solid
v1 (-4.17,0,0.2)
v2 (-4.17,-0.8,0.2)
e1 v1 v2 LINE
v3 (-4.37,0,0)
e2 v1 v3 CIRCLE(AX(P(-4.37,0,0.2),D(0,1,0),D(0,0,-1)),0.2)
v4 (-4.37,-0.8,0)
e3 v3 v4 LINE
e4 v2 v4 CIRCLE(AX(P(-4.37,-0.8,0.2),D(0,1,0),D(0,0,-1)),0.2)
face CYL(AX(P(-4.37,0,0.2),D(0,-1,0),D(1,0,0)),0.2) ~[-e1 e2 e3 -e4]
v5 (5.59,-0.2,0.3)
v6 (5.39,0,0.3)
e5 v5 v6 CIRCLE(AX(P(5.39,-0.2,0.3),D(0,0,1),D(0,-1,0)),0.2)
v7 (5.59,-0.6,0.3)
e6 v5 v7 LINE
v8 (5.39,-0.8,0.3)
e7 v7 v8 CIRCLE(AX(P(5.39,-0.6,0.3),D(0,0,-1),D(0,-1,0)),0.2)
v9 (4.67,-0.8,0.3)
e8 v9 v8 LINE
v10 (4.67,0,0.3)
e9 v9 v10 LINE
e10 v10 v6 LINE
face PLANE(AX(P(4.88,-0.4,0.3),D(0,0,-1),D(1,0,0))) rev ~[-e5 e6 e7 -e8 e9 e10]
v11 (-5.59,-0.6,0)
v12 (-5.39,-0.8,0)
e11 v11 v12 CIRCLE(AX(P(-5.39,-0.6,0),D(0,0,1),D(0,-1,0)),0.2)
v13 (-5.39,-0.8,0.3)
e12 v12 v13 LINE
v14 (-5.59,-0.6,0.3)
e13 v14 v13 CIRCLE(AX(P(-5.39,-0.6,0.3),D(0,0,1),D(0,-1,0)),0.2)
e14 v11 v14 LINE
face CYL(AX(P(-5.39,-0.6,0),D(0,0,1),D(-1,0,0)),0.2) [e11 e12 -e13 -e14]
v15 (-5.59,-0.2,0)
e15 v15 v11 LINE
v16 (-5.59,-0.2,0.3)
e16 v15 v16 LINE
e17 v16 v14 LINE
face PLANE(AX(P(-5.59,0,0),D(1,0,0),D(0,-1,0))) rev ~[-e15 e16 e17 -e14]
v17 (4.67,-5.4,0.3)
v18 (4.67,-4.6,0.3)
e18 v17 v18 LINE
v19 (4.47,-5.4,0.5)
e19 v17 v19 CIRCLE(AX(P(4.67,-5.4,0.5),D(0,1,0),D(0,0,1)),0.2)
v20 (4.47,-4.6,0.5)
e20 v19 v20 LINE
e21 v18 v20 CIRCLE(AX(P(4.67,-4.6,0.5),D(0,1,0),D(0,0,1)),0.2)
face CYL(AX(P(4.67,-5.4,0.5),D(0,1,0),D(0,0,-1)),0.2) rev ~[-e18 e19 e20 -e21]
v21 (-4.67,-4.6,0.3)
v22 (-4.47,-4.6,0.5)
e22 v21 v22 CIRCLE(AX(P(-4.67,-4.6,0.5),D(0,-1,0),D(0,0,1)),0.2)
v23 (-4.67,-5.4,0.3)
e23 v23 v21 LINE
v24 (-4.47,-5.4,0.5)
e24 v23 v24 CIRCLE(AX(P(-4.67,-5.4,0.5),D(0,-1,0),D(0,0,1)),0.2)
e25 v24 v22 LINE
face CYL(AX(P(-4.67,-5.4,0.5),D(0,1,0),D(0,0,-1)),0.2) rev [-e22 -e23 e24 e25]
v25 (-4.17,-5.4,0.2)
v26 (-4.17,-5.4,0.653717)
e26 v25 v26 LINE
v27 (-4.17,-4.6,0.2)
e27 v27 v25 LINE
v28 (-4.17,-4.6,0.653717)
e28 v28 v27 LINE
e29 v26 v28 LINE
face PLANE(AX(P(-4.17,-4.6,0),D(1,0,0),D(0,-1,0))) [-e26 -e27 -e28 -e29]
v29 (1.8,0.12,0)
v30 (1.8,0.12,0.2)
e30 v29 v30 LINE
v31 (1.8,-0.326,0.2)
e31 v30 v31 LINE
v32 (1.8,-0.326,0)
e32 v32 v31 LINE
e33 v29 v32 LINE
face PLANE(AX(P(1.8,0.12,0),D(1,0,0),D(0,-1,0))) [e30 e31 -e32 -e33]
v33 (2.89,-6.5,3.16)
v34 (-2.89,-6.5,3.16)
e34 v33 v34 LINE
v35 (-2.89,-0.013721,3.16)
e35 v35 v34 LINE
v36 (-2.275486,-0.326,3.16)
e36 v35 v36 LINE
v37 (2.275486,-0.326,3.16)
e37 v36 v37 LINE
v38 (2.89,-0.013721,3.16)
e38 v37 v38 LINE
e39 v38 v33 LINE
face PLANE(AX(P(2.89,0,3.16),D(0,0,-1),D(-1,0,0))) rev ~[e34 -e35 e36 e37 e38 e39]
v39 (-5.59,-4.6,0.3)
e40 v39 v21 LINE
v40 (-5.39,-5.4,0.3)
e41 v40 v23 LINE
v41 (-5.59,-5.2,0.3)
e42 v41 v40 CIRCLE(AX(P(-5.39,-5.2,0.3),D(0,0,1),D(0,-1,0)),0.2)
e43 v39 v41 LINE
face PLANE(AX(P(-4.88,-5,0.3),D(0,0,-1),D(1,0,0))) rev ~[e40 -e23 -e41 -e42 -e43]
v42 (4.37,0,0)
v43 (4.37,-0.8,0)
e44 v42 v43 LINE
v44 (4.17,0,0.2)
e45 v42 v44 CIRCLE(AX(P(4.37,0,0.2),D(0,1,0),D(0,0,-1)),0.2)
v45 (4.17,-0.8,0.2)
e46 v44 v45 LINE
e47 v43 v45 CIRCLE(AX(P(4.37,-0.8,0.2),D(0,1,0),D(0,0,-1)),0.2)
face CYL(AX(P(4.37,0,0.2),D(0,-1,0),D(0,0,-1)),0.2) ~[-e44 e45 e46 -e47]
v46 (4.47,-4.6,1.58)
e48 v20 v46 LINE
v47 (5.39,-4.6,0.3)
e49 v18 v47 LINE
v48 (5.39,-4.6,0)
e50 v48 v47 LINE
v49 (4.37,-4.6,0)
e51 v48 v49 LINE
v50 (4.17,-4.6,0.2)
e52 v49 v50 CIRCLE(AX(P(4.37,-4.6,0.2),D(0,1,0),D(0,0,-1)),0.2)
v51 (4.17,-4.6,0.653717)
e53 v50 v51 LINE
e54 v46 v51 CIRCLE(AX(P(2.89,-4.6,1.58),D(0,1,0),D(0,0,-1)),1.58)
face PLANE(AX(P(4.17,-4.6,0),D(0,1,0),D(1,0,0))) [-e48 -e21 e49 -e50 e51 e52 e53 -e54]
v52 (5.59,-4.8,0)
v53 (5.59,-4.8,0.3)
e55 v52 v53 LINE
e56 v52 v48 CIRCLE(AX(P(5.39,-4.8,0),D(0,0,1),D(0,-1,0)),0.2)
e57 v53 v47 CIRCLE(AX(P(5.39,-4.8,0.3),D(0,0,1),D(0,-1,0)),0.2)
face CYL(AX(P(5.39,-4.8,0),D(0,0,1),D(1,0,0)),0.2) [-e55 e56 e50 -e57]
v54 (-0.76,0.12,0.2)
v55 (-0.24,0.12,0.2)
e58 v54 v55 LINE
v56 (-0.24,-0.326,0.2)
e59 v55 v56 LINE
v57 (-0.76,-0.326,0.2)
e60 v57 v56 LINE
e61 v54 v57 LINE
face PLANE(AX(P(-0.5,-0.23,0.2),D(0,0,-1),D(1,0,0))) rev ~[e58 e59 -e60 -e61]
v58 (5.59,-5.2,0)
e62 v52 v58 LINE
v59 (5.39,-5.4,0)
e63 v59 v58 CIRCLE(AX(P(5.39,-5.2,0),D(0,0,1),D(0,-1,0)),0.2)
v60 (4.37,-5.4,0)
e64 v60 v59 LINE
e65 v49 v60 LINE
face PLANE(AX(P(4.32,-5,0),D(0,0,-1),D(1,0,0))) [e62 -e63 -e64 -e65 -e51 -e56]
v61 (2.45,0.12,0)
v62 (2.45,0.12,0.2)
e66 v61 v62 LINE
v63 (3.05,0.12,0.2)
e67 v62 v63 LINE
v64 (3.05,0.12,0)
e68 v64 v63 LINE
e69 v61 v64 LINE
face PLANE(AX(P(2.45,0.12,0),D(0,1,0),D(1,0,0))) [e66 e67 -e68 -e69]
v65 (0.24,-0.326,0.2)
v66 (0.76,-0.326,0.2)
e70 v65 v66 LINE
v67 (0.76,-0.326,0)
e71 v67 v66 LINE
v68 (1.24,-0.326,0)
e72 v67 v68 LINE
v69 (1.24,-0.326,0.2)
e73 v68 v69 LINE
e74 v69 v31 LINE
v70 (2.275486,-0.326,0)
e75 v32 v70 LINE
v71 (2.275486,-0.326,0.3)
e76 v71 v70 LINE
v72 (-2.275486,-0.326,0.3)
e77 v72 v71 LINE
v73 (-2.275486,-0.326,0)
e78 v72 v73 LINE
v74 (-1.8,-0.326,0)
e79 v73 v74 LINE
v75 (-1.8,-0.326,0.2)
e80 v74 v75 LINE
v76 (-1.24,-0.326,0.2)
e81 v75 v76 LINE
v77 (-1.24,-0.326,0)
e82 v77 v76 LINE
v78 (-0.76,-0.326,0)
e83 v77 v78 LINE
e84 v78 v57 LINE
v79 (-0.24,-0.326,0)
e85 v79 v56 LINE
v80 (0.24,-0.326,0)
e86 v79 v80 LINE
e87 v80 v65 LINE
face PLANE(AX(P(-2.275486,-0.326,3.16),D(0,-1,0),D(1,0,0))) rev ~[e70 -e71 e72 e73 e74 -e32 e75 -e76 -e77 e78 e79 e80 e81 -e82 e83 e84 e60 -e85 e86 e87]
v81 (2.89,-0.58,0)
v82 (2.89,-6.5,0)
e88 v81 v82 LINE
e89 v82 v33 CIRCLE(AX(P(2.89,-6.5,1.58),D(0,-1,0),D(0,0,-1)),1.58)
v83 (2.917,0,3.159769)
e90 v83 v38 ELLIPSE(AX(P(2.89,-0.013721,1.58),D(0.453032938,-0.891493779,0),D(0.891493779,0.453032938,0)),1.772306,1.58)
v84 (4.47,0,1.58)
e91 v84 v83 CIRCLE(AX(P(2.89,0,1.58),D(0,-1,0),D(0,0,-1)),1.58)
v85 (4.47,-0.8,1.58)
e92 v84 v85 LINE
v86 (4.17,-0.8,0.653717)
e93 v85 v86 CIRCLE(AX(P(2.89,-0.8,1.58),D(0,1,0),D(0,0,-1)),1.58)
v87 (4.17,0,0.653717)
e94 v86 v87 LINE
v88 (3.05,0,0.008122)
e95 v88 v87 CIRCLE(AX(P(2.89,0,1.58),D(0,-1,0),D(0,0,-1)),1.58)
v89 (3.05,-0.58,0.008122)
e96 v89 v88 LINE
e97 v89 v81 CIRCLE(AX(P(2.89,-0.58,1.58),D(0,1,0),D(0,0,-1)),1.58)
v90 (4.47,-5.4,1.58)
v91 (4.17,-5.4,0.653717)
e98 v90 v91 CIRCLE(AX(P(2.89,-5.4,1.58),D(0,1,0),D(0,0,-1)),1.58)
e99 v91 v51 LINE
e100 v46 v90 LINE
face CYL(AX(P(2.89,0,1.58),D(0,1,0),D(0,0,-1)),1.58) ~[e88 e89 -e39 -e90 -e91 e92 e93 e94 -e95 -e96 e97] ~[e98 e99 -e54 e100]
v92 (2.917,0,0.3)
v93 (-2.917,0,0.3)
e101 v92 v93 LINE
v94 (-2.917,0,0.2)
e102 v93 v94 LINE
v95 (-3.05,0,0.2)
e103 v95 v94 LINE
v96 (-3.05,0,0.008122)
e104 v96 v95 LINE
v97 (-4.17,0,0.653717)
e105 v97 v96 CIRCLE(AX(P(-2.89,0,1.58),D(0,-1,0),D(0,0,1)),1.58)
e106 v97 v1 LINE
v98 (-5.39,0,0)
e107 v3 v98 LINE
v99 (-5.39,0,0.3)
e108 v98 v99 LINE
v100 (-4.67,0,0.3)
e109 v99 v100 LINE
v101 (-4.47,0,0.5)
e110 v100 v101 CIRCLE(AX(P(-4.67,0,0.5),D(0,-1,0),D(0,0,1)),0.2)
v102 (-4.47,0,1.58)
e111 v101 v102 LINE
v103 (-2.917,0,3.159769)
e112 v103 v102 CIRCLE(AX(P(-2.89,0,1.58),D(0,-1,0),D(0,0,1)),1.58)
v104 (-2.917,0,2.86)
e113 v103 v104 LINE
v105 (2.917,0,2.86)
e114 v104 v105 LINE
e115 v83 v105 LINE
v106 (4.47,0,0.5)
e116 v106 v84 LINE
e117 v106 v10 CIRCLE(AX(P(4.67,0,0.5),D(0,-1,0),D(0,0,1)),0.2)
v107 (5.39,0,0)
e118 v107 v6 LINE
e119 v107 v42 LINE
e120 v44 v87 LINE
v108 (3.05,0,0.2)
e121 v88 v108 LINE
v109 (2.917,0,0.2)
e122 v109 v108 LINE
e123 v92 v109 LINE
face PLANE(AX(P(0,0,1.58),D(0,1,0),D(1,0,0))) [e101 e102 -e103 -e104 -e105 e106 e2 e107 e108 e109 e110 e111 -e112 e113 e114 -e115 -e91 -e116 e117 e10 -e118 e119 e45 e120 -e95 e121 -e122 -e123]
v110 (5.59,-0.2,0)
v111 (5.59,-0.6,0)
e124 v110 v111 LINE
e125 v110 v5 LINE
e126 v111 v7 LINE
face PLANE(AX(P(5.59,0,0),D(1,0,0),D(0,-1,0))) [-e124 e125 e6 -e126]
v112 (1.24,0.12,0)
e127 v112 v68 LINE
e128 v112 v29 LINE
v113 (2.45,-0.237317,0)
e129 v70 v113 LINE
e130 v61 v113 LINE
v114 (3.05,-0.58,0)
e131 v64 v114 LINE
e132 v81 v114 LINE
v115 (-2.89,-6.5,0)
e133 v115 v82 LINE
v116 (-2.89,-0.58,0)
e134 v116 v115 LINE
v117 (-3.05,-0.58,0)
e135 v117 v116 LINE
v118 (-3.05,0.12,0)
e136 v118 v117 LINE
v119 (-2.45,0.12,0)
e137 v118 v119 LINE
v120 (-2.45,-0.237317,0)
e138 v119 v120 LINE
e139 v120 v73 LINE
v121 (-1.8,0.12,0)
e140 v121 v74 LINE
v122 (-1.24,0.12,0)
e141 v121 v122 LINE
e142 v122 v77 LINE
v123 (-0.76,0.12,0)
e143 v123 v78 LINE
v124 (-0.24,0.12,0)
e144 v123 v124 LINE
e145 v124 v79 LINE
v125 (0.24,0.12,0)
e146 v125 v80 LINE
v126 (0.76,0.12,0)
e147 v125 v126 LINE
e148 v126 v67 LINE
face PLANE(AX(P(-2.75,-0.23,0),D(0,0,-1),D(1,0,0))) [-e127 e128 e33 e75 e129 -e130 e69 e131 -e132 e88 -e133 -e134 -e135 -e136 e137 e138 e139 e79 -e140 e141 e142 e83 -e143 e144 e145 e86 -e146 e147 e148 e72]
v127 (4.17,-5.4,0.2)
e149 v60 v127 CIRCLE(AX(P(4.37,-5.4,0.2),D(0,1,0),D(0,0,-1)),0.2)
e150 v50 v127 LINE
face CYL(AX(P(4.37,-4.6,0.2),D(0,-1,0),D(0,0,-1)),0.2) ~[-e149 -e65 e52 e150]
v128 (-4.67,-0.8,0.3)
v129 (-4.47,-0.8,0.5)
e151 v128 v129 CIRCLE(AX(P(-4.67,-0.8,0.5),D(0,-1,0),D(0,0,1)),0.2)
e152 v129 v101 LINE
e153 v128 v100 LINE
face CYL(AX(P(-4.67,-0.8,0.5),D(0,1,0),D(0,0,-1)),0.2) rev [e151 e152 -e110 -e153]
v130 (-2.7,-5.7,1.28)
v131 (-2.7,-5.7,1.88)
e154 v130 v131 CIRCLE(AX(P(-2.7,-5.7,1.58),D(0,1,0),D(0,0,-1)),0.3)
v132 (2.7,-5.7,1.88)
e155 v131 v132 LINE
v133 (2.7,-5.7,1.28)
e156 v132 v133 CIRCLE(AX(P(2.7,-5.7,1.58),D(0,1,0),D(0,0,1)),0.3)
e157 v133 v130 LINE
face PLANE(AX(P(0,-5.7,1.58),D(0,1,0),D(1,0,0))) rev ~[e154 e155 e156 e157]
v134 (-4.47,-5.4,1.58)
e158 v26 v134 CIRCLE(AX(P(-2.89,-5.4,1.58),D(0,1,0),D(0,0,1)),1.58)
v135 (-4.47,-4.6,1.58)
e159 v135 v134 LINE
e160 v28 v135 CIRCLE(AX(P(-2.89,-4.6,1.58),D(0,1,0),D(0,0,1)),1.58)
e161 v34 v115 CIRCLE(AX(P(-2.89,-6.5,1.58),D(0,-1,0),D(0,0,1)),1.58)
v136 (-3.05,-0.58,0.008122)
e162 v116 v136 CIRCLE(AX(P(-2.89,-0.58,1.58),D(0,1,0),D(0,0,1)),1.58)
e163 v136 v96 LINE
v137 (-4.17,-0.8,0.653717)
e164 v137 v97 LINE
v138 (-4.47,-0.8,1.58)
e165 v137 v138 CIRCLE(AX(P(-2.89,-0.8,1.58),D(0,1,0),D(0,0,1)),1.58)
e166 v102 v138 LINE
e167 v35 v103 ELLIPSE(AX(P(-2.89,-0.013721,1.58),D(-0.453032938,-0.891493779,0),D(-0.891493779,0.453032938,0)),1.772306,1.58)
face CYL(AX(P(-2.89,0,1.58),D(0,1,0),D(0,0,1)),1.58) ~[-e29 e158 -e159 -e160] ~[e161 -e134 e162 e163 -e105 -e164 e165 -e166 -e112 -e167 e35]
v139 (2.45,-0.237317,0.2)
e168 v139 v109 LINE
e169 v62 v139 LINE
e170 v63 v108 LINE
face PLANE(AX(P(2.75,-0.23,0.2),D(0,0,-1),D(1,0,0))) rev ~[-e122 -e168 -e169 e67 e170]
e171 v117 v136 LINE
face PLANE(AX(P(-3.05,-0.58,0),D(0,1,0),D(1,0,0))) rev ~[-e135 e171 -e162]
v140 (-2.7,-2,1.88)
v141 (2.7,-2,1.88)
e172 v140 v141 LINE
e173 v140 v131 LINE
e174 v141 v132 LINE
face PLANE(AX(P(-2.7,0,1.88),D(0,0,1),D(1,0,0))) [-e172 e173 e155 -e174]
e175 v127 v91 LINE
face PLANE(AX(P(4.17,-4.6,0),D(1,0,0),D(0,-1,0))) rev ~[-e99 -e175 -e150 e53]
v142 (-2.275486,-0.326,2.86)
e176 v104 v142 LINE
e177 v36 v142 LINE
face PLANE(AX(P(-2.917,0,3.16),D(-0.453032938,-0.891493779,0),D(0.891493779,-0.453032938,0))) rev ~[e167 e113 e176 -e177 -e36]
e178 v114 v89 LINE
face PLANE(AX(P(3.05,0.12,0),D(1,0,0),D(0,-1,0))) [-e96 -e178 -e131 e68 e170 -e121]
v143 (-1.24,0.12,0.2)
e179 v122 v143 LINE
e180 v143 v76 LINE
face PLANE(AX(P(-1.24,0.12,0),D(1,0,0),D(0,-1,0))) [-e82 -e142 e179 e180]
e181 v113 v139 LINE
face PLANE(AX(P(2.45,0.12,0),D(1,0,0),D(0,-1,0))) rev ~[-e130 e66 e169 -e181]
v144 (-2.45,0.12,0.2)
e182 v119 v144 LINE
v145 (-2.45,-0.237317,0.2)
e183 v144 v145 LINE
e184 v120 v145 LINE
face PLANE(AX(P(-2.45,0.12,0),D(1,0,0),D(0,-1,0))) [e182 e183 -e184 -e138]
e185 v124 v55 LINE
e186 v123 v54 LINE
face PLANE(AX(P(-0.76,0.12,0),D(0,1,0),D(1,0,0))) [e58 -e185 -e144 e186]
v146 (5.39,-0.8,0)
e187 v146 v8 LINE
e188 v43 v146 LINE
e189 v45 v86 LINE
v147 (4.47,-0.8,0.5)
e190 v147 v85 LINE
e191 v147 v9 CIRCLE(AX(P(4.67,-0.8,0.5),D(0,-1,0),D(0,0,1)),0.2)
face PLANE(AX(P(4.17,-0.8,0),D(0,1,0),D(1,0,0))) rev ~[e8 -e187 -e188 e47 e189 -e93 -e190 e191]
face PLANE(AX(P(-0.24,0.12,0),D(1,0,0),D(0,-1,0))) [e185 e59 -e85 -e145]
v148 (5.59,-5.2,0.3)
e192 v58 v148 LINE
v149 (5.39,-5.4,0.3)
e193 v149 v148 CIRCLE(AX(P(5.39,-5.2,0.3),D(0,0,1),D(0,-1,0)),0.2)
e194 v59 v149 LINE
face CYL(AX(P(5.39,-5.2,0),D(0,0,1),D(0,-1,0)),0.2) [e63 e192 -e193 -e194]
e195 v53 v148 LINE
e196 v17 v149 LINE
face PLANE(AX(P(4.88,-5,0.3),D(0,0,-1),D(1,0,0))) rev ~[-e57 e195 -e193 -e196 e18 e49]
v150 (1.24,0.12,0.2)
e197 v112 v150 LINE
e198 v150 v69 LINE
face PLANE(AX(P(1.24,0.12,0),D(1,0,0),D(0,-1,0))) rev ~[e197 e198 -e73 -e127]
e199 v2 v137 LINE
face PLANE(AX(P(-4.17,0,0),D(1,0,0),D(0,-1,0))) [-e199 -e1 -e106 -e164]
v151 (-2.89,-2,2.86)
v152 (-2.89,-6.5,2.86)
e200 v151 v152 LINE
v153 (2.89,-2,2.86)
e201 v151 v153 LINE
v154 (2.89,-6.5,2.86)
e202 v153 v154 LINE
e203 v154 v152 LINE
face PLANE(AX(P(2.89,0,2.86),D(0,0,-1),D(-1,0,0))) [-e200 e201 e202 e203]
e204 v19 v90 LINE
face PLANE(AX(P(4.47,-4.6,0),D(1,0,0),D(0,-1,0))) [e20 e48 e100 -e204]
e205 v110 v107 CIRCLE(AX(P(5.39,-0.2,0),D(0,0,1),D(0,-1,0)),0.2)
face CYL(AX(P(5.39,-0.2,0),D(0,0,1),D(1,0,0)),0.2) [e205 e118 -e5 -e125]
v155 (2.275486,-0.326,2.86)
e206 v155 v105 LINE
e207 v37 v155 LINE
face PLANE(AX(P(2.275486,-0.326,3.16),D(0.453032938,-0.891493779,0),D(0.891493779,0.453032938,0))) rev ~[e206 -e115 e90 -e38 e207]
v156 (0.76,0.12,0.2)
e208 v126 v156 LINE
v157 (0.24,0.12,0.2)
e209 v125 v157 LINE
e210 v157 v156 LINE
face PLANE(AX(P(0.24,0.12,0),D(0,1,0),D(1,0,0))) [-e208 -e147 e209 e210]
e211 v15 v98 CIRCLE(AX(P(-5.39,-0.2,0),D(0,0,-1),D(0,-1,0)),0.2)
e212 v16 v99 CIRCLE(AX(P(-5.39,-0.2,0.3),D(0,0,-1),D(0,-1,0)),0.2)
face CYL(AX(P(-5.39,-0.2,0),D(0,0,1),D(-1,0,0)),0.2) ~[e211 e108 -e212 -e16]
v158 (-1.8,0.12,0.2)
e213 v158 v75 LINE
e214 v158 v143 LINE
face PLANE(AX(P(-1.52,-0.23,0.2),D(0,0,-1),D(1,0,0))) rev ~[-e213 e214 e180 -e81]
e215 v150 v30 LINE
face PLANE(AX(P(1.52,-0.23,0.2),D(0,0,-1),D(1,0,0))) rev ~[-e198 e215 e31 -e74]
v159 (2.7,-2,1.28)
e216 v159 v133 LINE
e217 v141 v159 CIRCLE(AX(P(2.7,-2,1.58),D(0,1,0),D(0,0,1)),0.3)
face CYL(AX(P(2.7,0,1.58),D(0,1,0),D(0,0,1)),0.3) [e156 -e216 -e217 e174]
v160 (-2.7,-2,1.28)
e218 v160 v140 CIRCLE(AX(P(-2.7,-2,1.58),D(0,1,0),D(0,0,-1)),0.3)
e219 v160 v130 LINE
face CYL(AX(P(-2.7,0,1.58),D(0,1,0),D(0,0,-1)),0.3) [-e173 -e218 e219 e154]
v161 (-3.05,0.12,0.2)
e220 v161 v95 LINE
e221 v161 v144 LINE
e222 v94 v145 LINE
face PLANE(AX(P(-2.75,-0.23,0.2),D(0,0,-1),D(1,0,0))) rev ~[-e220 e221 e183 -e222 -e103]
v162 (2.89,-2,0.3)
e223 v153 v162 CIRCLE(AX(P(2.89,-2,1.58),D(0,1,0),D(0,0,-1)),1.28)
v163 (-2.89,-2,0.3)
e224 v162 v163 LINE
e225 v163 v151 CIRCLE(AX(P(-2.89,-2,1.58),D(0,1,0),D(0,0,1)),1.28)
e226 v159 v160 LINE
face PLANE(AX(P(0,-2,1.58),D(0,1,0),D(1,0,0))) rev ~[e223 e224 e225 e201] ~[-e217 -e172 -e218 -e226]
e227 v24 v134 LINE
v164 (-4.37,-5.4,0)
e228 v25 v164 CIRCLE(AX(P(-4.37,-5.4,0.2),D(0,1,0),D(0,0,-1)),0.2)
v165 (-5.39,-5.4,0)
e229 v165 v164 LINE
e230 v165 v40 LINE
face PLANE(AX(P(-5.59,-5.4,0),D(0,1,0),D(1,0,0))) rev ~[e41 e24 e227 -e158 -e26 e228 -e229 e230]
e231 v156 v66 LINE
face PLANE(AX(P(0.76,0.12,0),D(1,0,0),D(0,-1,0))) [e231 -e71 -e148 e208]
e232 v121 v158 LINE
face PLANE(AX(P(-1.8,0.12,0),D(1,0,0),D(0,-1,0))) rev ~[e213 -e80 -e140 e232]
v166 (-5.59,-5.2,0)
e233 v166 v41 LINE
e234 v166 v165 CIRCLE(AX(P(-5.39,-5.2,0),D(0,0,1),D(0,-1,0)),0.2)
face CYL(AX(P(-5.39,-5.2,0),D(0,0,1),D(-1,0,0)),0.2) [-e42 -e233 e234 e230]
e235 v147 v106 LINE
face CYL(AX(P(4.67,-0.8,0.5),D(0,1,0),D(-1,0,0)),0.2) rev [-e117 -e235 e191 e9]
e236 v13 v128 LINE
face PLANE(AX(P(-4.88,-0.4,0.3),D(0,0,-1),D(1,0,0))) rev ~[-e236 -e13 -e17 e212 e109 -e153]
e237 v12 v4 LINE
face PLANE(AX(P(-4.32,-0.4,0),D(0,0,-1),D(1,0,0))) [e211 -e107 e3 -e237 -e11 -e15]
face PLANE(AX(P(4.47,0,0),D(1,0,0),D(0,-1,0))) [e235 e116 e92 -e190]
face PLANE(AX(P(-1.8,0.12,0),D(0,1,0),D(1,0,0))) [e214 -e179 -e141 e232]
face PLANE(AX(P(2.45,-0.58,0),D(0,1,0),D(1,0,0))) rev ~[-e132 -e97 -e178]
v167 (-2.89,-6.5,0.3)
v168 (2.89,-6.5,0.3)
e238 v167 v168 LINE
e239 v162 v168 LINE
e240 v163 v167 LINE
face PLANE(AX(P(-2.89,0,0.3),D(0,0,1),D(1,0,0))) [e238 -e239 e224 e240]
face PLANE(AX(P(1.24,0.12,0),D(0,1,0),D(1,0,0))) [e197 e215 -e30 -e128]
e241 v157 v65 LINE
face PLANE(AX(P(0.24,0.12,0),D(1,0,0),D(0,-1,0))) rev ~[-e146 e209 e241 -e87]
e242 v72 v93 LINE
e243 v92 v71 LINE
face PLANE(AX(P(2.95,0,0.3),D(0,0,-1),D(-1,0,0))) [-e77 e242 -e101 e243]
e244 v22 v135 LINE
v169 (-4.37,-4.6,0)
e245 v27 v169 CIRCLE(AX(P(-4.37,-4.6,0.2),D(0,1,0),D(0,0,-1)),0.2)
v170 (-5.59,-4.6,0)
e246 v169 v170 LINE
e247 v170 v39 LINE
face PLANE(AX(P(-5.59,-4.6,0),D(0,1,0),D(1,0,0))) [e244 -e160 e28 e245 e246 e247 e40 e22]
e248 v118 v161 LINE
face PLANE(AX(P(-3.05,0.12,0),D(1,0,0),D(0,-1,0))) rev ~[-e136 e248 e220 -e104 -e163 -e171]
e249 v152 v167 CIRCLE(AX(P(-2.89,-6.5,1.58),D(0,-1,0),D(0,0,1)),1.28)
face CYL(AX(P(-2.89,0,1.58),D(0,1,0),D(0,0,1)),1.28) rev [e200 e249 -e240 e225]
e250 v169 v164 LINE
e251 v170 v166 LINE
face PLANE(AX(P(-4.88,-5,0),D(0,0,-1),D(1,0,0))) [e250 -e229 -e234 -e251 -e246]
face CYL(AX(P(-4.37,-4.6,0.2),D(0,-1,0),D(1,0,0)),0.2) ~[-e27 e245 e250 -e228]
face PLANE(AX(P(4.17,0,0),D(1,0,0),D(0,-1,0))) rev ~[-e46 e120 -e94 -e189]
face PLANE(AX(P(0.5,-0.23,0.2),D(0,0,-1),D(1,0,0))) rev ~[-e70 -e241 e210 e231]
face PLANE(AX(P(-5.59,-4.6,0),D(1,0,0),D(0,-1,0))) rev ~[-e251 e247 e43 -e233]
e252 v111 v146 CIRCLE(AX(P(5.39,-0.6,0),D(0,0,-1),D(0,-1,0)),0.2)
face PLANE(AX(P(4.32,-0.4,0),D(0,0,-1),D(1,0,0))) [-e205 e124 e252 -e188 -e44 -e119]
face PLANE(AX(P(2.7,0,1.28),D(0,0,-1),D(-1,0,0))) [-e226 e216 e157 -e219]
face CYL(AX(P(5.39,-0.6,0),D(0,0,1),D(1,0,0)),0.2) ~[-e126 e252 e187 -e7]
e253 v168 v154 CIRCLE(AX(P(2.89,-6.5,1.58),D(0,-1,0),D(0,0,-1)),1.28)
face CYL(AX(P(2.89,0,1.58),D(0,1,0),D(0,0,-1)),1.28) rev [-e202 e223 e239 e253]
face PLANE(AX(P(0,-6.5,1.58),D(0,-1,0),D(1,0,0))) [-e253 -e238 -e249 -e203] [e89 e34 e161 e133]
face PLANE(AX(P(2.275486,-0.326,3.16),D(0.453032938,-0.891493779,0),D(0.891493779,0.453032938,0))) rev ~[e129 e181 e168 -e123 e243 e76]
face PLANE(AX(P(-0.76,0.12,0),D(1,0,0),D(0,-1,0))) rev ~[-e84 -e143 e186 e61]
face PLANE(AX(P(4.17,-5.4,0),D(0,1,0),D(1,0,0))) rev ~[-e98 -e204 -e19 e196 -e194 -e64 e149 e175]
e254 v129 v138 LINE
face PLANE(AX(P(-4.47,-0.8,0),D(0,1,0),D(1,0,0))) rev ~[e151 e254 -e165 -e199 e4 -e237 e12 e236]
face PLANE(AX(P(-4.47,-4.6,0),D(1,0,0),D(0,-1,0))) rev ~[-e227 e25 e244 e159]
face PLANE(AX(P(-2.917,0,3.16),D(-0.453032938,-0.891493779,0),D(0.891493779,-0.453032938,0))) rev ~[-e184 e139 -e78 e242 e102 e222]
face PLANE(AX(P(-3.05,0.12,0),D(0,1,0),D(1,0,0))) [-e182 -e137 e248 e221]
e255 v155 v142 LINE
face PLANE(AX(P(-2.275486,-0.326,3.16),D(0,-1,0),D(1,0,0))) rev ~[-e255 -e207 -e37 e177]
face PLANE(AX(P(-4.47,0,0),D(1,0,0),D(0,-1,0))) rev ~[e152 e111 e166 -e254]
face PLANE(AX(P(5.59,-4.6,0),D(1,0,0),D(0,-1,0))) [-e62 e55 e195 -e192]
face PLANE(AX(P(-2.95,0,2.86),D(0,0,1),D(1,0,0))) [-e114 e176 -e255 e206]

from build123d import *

# Parameters (mm, degrees)
PAD_DEPTH     = 6.5
POCKET_DEPTH  = 3.161
SKETCH002_W   = 0.3
SKETCH002_H   = 0.8
PAD001_DEPTH  = 1.58
SKETCH007_W   = 0.6
SKETCH007_H   = 0.7
SKETCH007_W_2 = 0.56
SKETCH007_W_3 = 0.52
PAD002_DEPTH  = 0.2
PAD003_DEPTH  = 2
PAD004_DEPTH  = 5.7
SKETCH008_W   = 1.42
SKETCH008_H   = 0.8
PAD005_DEPTH  = 0.3
FILLET_R      = 0.2


with BuildPart() as part:
    # Sketch → Pad (new body)
    with BuildSketch(Plane.XZ):
        with BuildLine():
            ThreePointArc((-2.89, 3.16), (-4.47, 1.58), (-2.89, 0))
            Line((-2.89, 0), (2.89, 0))
            ThreePointArc((2.89, 0), (4.47, 1.58), (2.89, 3.16))
            Line((2.89, 3.16), (-2.89, 3.16))
        make_face()
        with BuildLine():
            ThreePointArc((-2.89, 2.86), (-4.17, 1.58), (-2.89, 0.3))
            Line((-2.89, 0.3), (2.89, 0.3))
            ThreePointArc((2.89, 0.3), (4.17, 1.58), (2.89, 2.86))
            Line((2.89, 2.86), (-2.89, 2.86))
        make_face(mode=Mode.SUBTRACT)
    extrude(amount=PAD_DEPTH)

    # Sketch001 (on DatumPlane) → Pocket (cut, through all)
    with BuildSketch(Plane(origin=(0, 0, 3.16), x_dir=(-1, 0, 0), z_dir=(0, 0, 1))):
        Polygon((-2.917, 0), (2.917, 0), (2.275486, 0.326), (-2.275486, 0.326), align=None)
    extrude(amount=-POCKET_DEPTH, mode=Mode.SUBTRACT)

    # Sketch002 (on DatumPlane) → Pad001 (join)
    with BuildSketch(Plane(origin=(0, 0, 0), x_dir=(1, 0, 0), z_dir=(0, 0, -1))):
        with Locations((-4.32, 5)):
            Rectangle(SKETCH002_W, SKETCH002_H)
        with Locations((4.32, 5)):
            Rectangle(SKETCH002_W, SKETCH002_H)
        with Locations((-4.32, 0.4)):
            Rectangle(SKETCH002_W, SKETCH002_H)
        with Locations((4.32, 0.4)):
            Rectangle(SKETCH002_W, SKETCH002_H)
    extrude(amount=-PAD001_DEPTH)

    # Sketch007 → Pad002 (join)
    with BuildSketch(Plane(origin=(0, 0, 0), x_dir=(1, 0, 0), z_dir=(0, 0, -1))):
        with Locations((-2.75, 0.23)):
            Rectangle(SKETCH007_W, SKETCH007_H)
        with Locations((-1.52, 0.23)):
            Rectangle(SKETCH007_W_2, SKETCH007_H)
        with Locations((-0.5, 0.23)):
            Rectangle(SKETCH007_W_3, SKETCH007_H)
        with Locations((2.75, 0.23)):
            Rectangle(SKETCH007_W, SKETCH007_H)
        with Locations((1.52, 0.23)):
            Rectangle(SKETCH007_W_2, SKETCH007_H)
        with Locations((0.5, 0.23)):
            Rectangle(SKETCH007_W_3, SKETCH007_H)
    extrude(amount=-PAD002_DEPTH)

    # Sketch005 (on DatumPlane) → Pad003 (join)
    with BuildSketch(Plane(origin=(0, 0, 0), x_dir=(1, 0, 0), z_dir=(0, 1, 0))):
        with BuildLine():
            ThreePointArc((-2.95, -0.3), (-4.23, -1.58), (-2.95, -2.86))
            Line((-2.95, -2.86), (2.95, -2.86))
            ThreePointArc((2.95, -2.86), (4.23, -1.58), (2.95, -0.3))
            Line((2.95, -0.3), (-2.95, -0.3))
        make_face()
    extrude(amount=-PAD003_DEPTH)

    # Sketch006 (on DatumPlane) → Pad004 (join)
    with BuildSketch(Plane(origin=(0, 0, 0), x_dir=(1, 0, 0), z_dir=(0, 1, 0))):
        with BuildLine():
            ThreePointArc((-2.7, -1.28), (-3, -1.58), (-2.7, -1.88))
            Line((-2.7, -1.88), (2.7, -1.88))
            ThreePointArc((2.7, -1.88), (3, -1.58), (2.7, -1.28))
            Line((2.7, -1.28), (-2.7, -1.28))
        make_face()
    extrude(amount=-PAD004_DEPTH)

    # Sketch008 (on DatumPlane) → Pad005 (join)
    with BuildSketch(Plane(origin=(0, 0, 0), x_dir=(1, 0, 0), z_dir=(0, 0, -1))):
        with Locations((-4.88, 5)):
            Rectangle(SKETCH008_W, SKETCH008_H)
        with Locations((-4.88, 0.4)):
            Rectangle(SKETCH008_W, SKETCH008_H)
        with Locations((4.88, 0.4)):
            Rectangle(SKETCH008_W, SKETCH008_H)
        with Locations((4.88, 5)):
            Rectangle(SKETCH008_W, SKETCH008_H)
    extrude(amount=-PAD005_DEPTH)

    # Fillet
    fillet_edges = [part.edges().sort_by_distance(p)[0] for p in [
        (4.47, -0.4, 0.3),
        (4.47, -5, 0.3),
        (4.17, -0.4, 0),
        (4.17, -5, 0),
        (-4.17, -0.4, 0),
        (-4.17, -5, 0),
        (-4.47, -0.4, 0.3),
        (-4.47, -5, 0.3),
        (-5.59, 0, 0.15),
        (-5.59, -5.4, 0.15),
        (-5.59, -0.8, 0.15),
        (5.59, -5.4, 0.15),
        (5.59, -4.6, 0.15),
        (5.59, 0, 0.15),
        (5.59, -0.8, 0.15),
    ]]
    fillet(fillet_edges, radius=FILLET_R)


solid = part.part
